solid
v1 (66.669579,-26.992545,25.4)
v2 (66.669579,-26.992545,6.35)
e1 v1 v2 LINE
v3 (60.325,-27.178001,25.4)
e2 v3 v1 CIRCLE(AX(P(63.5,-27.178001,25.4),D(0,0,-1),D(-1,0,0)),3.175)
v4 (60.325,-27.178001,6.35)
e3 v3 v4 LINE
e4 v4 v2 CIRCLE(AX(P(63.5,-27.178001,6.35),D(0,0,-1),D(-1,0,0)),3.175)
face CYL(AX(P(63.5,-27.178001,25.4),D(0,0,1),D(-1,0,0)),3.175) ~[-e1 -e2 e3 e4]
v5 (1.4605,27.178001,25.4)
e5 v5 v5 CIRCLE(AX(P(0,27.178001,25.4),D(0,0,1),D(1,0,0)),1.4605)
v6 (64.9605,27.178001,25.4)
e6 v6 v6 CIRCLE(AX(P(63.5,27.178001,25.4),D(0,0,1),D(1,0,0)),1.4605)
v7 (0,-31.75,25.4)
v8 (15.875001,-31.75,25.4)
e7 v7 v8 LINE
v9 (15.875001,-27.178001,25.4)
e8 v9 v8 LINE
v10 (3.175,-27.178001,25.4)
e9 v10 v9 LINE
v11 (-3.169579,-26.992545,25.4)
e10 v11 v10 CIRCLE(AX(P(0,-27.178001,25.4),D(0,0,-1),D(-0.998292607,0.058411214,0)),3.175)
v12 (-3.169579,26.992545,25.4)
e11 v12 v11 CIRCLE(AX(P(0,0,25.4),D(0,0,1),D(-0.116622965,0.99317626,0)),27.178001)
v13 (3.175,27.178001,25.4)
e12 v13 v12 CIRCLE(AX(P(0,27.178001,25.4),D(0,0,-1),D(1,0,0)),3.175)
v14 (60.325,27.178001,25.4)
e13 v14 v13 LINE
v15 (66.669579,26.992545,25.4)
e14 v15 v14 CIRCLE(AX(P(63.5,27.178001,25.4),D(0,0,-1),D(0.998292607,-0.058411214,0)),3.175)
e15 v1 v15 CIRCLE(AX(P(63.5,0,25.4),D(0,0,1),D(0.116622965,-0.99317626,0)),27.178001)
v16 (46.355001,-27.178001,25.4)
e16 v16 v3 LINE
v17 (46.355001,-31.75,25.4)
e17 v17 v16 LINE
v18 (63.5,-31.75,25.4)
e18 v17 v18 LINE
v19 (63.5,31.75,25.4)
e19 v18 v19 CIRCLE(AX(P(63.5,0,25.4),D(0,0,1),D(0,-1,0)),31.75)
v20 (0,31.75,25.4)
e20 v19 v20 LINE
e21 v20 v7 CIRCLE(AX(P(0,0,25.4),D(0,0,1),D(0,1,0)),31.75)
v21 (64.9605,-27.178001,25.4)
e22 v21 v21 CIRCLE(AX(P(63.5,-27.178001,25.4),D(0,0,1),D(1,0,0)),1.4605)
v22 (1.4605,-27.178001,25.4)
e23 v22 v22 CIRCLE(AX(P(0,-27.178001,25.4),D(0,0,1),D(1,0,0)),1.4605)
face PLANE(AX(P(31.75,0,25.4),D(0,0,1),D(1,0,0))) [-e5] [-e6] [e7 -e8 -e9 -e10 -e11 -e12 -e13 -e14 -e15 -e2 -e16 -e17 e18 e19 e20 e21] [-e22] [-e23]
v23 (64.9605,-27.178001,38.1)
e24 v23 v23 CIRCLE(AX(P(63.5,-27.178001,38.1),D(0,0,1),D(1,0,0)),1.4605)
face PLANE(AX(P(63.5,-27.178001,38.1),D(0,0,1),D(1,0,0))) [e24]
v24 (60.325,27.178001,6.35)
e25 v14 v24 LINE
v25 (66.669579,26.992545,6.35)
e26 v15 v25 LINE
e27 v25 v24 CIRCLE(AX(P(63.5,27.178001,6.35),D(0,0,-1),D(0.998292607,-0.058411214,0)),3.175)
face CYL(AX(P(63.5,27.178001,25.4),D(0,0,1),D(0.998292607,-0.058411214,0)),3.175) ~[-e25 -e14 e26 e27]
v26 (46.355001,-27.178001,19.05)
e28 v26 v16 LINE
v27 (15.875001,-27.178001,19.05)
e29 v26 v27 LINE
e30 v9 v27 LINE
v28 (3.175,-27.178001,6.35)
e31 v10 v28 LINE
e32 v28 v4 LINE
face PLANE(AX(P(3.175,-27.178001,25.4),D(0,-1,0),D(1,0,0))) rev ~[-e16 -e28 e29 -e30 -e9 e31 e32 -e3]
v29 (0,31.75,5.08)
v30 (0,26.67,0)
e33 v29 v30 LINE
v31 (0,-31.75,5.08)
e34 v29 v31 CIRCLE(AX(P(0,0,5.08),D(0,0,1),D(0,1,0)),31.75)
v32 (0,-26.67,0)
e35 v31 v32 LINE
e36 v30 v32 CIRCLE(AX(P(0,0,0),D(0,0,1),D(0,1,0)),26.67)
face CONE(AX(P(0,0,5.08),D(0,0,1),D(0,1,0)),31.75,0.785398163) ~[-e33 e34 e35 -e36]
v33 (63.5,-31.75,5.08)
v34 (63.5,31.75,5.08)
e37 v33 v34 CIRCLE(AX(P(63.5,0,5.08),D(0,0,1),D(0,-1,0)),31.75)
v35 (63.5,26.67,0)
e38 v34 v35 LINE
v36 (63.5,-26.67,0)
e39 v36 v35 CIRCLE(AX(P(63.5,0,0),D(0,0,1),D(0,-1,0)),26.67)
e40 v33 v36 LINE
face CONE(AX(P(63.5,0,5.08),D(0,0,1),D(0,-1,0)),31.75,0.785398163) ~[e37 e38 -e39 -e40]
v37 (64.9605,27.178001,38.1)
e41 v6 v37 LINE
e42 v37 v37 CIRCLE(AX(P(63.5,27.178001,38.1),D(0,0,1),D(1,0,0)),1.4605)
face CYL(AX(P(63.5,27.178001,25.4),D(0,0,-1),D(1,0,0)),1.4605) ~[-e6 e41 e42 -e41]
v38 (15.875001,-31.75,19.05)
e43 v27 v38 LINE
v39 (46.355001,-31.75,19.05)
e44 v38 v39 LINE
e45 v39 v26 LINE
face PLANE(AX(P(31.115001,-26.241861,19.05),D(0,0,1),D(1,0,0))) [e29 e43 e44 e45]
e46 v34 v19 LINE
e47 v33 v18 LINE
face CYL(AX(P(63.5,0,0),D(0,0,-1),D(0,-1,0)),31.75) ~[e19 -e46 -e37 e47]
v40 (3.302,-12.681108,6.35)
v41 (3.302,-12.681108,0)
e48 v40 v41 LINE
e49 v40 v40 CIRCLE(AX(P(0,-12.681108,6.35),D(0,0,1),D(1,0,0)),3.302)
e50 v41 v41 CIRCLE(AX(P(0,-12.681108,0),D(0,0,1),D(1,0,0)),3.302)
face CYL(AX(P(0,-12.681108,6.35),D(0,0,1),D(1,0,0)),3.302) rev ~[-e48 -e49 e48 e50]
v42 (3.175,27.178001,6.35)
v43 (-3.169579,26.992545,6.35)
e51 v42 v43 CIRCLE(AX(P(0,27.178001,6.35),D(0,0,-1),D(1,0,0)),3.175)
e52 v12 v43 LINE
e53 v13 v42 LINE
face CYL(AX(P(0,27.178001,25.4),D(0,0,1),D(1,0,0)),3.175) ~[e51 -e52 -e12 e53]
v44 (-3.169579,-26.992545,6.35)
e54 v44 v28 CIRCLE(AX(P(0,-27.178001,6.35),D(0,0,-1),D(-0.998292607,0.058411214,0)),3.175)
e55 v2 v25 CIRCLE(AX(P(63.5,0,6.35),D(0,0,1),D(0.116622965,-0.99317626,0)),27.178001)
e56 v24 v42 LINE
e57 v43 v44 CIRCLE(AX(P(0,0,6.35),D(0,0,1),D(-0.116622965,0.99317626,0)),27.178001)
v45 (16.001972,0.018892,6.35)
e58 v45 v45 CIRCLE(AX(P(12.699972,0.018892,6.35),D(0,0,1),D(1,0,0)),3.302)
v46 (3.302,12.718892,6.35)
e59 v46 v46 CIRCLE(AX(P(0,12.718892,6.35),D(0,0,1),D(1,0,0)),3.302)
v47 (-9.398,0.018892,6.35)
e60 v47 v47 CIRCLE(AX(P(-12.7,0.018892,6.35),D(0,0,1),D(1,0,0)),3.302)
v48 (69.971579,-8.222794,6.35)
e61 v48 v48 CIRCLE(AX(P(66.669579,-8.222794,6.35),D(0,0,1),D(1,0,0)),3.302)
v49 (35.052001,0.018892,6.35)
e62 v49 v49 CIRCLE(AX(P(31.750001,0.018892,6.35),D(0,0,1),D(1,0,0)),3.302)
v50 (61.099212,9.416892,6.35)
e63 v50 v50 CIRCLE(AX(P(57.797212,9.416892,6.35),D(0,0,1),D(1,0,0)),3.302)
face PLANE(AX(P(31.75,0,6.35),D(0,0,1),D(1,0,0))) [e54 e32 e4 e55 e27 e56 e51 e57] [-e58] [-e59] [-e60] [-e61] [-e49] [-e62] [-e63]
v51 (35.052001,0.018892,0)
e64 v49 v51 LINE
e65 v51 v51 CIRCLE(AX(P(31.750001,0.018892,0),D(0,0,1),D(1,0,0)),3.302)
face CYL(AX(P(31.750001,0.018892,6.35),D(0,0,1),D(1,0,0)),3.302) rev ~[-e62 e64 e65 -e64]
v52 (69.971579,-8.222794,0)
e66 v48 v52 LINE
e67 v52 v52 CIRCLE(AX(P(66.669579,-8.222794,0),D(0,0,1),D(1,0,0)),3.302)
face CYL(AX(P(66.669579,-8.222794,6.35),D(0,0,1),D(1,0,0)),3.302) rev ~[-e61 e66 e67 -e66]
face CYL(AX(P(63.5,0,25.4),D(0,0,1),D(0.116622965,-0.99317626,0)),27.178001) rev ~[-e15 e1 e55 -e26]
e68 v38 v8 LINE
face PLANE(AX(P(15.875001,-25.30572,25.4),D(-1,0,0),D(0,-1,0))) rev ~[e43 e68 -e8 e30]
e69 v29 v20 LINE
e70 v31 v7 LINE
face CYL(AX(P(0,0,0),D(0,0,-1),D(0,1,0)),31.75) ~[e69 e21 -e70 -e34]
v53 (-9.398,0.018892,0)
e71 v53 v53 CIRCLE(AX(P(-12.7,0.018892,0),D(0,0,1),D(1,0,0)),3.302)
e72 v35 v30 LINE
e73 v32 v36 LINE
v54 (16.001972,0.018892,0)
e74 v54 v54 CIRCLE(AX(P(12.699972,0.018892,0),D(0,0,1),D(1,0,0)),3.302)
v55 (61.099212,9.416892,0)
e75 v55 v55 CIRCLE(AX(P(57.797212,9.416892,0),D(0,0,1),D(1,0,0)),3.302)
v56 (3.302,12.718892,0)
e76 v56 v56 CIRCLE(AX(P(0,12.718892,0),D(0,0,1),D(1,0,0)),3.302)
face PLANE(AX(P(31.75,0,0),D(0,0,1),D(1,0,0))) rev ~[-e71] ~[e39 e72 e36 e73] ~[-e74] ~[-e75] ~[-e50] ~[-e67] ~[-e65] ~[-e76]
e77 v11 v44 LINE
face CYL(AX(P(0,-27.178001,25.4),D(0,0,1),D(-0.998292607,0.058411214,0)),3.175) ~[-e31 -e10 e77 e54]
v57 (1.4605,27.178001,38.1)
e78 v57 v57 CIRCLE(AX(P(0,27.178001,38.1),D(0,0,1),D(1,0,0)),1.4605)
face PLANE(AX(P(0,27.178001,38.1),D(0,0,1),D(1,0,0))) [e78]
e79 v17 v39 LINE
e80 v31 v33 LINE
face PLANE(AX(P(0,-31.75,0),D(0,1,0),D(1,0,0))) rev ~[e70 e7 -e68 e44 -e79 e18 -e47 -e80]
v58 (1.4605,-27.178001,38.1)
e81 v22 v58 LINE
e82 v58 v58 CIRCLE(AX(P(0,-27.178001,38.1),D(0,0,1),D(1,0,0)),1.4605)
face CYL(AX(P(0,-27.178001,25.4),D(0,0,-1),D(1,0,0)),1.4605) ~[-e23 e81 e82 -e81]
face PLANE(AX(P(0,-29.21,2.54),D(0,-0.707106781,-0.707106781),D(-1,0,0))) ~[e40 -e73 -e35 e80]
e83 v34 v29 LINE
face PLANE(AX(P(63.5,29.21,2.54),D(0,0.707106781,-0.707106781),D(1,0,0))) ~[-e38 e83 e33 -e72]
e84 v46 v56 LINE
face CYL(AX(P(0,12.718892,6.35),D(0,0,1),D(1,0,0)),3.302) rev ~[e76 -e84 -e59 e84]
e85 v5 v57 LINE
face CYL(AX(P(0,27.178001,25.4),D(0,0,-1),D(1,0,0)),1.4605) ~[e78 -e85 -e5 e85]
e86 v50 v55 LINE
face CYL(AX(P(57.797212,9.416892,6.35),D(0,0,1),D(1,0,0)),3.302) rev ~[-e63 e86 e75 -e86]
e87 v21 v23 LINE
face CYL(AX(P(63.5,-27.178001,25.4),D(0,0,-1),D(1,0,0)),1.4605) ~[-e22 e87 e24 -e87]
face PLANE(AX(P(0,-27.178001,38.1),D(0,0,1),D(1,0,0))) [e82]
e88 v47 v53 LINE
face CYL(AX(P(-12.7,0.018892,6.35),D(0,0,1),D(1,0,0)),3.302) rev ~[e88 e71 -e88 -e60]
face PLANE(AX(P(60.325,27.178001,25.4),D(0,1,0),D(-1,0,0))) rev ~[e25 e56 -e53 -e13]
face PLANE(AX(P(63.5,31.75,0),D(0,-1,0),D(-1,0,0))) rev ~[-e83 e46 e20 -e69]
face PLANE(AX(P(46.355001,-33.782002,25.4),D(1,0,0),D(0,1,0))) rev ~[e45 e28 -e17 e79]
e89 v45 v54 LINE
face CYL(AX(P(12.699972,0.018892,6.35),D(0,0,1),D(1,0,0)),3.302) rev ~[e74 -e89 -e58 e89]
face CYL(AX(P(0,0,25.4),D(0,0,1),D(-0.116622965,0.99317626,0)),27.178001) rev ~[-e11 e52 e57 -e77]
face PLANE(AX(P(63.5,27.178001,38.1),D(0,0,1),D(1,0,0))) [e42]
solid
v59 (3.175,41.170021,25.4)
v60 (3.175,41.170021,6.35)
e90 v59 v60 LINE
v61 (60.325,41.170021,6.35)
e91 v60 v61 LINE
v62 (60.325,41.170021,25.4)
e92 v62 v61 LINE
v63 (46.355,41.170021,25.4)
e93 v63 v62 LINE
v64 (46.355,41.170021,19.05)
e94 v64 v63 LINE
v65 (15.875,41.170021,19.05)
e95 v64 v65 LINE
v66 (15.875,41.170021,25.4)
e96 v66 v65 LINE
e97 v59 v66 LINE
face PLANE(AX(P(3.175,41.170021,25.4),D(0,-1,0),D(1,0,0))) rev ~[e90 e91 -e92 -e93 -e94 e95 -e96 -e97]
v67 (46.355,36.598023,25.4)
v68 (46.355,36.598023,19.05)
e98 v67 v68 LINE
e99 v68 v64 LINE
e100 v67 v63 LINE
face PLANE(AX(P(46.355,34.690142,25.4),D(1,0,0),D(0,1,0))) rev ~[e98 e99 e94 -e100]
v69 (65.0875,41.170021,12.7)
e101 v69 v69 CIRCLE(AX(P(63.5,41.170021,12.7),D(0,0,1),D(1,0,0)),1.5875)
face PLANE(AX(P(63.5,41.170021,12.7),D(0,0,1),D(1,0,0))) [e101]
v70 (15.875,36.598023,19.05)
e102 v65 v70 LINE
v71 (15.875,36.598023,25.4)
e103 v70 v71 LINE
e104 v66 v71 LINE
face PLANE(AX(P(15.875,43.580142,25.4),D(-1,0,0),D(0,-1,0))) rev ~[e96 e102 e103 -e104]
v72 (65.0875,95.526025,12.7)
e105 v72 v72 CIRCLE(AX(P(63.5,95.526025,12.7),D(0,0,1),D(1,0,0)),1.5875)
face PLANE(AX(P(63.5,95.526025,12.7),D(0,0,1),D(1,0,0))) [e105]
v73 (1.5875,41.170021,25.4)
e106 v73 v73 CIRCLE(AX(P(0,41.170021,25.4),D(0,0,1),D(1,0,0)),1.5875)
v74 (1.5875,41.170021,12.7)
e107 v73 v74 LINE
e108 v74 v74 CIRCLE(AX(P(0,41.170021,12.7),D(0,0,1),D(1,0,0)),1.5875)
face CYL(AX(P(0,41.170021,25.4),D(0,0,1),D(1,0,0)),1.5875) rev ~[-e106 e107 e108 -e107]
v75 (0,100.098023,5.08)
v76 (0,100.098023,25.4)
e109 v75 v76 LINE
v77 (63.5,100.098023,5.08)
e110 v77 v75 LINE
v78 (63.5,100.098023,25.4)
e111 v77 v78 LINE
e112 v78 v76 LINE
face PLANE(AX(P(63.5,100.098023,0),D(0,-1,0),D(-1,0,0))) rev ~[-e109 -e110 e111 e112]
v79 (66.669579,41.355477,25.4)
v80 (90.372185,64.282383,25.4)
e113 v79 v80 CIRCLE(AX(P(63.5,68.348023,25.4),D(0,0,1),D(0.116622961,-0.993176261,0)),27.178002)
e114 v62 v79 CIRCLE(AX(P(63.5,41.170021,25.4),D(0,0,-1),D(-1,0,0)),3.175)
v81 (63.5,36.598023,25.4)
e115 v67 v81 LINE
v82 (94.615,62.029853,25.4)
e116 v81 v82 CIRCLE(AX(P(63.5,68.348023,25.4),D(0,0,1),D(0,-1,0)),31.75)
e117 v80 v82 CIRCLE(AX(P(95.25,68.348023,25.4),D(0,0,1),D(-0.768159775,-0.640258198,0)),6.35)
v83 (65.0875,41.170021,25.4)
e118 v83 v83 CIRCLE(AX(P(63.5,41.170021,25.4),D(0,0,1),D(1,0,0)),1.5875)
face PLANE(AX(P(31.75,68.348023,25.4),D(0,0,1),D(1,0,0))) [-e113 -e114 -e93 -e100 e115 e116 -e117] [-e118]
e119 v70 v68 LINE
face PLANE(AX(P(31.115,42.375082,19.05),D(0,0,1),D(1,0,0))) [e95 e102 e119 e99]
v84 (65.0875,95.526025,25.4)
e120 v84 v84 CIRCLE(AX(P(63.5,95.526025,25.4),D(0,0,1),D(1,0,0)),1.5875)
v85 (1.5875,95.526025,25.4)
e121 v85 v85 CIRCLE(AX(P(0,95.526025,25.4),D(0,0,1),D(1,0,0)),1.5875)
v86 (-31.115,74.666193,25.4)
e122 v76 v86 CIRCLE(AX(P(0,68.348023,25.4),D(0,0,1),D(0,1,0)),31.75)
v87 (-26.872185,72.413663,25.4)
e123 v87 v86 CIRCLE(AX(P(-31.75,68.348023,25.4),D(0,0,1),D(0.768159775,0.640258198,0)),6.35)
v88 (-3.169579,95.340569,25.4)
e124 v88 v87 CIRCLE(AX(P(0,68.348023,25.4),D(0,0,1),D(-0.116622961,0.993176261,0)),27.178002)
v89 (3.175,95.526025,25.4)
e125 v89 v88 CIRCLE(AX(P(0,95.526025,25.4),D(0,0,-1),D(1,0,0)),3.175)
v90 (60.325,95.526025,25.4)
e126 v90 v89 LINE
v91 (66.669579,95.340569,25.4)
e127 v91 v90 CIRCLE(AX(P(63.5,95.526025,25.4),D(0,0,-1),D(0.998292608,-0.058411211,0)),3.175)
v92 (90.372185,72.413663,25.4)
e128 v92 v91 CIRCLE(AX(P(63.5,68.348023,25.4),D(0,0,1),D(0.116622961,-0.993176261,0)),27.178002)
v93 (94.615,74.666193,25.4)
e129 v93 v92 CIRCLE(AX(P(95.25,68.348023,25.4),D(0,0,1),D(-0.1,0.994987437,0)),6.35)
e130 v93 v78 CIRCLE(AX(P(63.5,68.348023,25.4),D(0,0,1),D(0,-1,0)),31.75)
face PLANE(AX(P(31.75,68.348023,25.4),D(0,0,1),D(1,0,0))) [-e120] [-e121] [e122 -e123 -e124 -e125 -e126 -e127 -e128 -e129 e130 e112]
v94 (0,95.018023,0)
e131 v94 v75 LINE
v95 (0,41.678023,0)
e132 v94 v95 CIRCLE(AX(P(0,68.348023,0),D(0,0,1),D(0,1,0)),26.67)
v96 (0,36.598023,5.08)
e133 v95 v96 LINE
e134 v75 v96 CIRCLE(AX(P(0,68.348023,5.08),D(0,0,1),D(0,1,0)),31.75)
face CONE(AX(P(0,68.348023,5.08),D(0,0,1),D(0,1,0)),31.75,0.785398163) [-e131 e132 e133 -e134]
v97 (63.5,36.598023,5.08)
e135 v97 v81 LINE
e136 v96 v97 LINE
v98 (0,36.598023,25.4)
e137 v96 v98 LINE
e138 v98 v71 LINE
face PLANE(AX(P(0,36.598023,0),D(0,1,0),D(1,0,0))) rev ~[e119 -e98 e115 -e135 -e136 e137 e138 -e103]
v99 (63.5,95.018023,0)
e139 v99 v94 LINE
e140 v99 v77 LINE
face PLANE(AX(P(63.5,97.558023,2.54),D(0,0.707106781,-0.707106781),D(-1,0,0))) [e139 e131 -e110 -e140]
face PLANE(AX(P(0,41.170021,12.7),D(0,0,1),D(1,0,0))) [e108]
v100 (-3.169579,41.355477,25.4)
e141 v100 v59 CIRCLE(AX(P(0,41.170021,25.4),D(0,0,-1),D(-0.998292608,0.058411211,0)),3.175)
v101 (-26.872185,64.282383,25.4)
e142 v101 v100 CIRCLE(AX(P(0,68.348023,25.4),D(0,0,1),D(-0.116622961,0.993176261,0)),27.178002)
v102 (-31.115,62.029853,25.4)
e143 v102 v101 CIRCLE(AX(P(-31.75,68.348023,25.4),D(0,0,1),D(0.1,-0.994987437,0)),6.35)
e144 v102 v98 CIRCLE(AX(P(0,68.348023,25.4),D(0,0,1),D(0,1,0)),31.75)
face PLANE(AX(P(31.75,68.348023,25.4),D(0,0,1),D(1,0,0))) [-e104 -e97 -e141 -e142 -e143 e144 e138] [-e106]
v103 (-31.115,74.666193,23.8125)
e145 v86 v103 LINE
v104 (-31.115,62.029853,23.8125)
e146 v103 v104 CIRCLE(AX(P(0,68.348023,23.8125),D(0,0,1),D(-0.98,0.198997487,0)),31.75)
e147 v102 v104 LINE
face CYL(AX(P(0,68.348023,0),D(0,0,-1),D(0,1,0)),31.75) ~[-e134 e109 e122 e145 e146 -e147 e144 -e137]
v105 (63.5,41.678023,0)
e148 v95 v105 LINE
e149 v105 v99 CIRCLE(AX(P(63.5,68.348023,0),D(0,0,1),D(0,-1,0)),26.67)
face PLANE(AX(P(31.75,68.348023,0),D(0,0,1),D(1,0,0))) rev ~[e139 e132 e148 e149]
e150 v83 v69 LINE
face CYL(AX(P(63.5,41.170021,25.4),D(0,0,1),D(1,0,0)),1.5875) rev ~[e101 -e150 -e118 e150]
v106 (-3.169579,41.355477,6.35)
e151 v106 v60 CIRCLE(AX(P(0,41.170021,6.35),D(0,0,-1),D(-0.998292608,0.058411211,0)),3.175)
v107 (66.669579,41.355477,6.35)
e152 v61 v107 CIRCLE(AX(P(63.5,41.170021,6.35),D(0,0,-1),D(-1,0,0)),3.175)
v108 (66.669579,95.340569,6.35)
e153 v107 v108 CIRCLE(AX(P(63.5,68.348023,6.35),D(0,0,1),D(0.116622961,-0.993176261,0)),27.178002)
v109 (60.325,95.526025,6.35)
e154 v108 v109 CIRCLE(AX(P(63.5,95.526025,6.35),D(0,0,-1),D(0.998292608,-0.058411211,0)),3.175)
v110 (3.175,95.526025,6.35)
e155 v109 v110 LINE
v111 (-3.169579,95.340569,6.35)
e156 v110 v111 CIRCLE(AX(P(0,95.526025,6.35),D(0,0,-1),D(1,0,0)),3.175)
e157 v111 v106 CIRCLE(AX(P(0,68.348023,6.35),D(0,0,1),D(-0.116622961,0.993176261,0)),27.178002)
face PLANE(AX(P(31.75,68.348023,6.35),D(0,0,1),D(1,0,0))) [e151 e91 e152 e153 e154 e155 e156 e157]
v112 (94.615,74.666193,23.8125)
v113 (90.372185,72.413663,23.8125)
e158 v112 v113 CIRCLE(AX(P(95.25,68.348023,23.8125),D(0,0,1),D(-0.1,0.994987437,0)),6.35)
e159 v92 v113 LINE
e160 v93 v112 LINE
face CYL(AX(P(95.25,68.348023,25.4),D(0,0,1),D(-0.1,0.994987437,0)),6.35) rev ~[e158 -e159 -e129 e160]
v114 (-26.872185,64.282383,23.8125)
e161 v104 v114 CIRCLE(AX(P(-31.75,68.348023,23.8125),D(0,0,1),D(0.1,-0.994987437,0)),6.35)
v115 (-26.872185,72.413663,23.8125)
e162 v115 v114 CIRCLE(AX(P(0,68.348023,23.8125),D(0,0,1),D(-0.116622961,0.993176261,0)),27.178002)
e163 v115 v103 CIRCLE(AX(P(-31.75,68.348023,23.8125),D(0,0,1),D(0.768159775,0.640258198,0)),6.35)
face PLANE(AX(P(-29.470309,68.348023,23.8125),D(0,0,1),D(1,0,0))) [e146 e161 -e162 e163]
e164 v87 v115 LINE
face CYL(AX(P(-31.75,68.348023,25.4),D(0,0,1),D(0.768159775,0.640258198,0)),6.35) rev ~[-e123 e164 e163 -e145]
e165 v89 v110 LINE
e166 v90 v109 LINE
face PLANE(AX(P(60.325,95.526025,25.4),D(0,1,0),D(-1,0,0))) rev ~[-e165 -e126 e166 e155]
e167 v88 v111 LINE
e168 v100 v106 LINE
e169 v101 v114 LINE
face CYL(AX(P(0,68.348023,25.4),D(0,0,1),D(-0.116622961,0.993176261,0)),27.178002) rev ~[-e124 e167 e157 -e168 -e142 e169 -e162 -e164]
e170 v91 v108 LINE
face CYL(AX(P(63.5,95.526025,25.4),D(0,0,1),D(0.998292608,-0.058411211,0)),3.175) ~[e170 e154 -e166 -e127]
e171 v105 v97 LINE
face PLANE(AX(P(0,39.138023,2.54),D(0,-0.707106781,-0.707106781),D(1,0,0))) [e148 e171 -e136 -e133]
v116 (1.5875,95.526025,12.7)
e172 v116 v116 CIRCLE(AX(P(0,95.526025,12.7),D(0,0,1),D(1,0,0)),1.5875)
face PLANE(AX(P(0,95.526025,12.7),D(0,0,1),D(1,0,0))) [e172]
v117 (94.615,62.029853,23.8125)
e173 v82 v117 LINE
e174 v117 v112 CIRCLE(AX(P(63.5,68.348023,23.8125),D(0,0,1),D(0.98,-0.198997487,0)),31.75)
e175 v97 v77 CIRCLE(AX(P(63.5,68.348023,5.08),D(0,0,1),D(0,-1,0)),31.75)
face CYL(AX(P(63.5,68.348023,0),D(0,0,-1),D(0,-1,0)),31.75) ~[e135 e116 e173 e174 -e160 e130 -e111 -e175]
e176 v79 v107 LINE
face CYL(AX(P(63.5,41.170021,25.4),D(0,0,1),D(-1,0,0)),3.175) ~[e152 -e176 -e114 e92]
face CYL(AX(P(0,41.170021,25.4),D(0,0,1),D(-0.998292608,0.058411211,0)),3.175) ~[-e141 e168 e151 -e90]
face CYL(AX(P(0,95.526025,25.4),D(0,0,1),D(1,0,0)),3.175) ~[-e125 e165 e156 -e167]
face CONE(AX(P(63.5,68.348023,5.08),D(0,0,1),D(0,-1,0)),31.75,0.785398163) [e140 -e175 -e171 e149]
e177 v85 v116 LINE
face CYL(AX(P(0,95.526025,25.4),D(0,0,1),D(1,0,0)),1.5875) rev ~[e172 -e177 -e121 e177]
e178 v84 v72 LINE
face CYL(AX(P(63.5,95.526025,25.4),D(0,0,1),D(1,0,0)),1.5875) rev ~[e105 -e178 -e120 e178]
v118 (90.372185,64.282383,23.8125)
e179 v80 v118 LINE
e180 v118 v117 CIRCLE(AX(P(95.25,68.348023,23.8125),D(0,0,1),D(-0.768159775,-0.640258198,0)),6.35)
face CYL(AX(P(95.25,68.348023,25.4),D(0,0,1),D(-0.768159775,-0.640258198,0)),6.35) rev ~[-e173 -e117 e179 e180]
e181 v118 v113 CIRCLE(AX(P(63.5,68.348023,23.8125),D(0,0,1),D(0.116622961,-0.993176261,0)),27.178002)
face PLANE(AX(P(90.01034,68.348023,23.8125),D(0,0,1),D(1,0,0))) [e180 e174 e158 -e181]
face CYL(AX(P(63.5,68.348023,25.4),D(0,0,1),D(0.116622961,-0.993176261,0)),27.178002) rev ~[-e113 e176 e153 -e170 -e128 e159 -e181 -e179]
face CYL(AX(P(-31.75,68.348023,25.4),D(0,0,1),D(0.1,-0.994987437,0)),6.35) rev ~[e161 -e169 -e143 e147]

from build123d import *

# Parameters (mm, degrees)
F1_DEPTH   = 25.4
F3_DEPTH   = 19.05
F5_DEPTH   = 19.05
F6_R       = 1.5875
F7_DEPTH   = 12.7
F8_R       = 1.4605
F9_DEPTH   = 12.7
F10_R      = 3.302
F11_DEPTH  = 25.4
F12_SIZE   = 5.08
F12_2_SIZE = 5.08
F13_W      = 30.48
F13_H      = 1.8722803056
F13_H_2    = 4.5719993412
F13_H_3    = 2.0320015848
F14_DEPTH  = 6.35
F15_W      = 30.48
F15_H      = 2.4101203227
F15_H_2    = 4.571998328
F15_H_3    = 1.9078813493
F16_DEPTH  = 6.35
F18_DEPTH  = 1.5875


with BuildPart() as f1:
    # F0 (on Top) → F1 (new body)
    with BuildSketch(Plane.XY):
        with BuildLine():
            Line((63.5, 100.0980230272), (0, 100.0980230272))
            ThreePointArc((0, 100.0980230272), (-31.75, 68.3480230272), (0, 36.5980230272))
            Line((0, 36.5980230272), (63.5, 36.5980230272))
            ThreePointArc((63.5, 36.5980230272), (95.25, 68.3480230272), (63.5, 100.0980230272))
        make_face()
    extrude(amount=F1_DEPTH)

    # F2 (on face) → F3 (cut)
    with BuildSketch(Plane.XY.offset(25.4)):
        with BuildLine():
            Line((60.325, 95.5260246992), (3.175, 95.5260246992))
            ThreePointArc((3.175, 95.5260246992), (0.0927674041, 92.3523802313), (-3.1695790291, 95.3405691031))
            ThreePointArc((-3.1695790291, 95.3405691031), (-27.178001672, 68.3480230272), (-3.1695790291, 41.3554769512))
            ThreePointArc((-3.1695790291, 41.3554769512), (0.0927674041, 44.3436658231), (3.175, 41.1700213552))
            Line((3.175, 41.1700213552), (60.325, 41.1700213552))
            ThreePointArc((60.325, 41.1700213552), (63.4072325959, 44.3436658231), (66.6695790291, 41.3554769512))
            ThreePointArc((66.6695790291, 41.3554769512), (90.678001672, 68.3480230272), (66.6695790291, 95.3405691031))
            ThreePointArc((66.6695790291, 95.3405691031), (63.4072325959, 92.3523802313), (60.325, 95.5260246992))
        make_face()
    extrude(amount=-F3_DEPTH, mode=Mode.SUBTRACT)

    # F6 (on face) → F7 (cut)
    with BuildSketch(Plane.XY.offset(25.4)):
        with Locations((0, 95.5260246992)):
            Circle(F6_R)
        with Locations((0, 41.1700213552)):
            Circle(F6_R)
        with Locations((63.5, 41.1700213552)):
            Circle(F6_R)
        with Locations((63.5, 95.5260246992)):
            Circle(F6_R)
    extrude(amount=-F7_DEPTH, mode=Mode.SUBTRACT)

    # F12#2
    f12_2_edges = [f1.edges().sort_by_distance(p)[0] for p in [
        (31.75, 36.598023, 0),
    ]]
    chamfer(f12_2_edges, length=F12_2_SIZE)

    # F15 (on face) → F16 (cut)
    with BuildSketch(Plane.XY.offset(25.4)):
        with Locations((31.115, 42.3750815165)):
            Rectangle(F15_W, F15_H)
        with Locations((31.115, 38.8840221912)):
            Rectangle(F15_W, F15_H_2)
        with Locations((31.115, 35.6440823525)):
            Rectangle(F15_W, F15_H_3)
    extrude(amount=-F16_DEPTH, mode=Mode.SUBTRACT)

    # F17 (on face) → F18 (cut)
    with BuildSketch(Plane.XY.offset(25.4)):
        with BuildLine():
            ThreePointArc((-26.8721854313, 72.4136625873), (-28.7723743155, 73.9566097728), (-31.115, 74.6661932528))
            ThreePointArc((-31.115, 74.6661932528), (-31.75, 68.3480230272), (-31.115, 62.0298528016))
            ThreePointArc((-31.115, 62.0298528016), (-28.7723743155, 62.7394362816), (-26.8721854313, 64.282383467))
            ThreePointArc((-26.8721854313, 64.282383467), (-27.178001672, 68.3480230272), (-26.8721854313, 72.4136625873))
        make_face()
        with BuildLine():
            ThreePointArc((-25.4, 68.3480230272), (-25.7793793241, 70.5100102483), (-26.8721854313, 72.4136625873))
            ThreePointArc((-26.8721854313, 72.4136625873), (-27.178001672, 68.3480230272), (-26.8721854313, 64.282383467))
            ThreePointArc((-26.8721854313, 64.282383467), (-25.7793793241, 66.1860358061), (-25.4, 68.3480230272))
        make_face()
        with BuildLine():
            ThreePointArc((90.3721854313, 64.282383467), (90.678001672, 68.3480230272), (90.3721854313, 72.4136625873))
            ThreePointArc((90.3721854313, 72.4136625873), (88.9, 68.3480230272), (90.3721854313, 64.282383467))
        make_face()
        with BuildLine():
            ThreePointArc((94.615, 62.0298528016), (95.25, 68.3480230272), (94.615, 74.6661932528))
            ThreePointArc((94.615, 74.6661932528), (92.2723743155, 73.9566097728), (90.3721854313, 72.4136625873))
            ThreePointArc((90.3721854313, 72.4136625873), (90.678001672, 68.3480230272), (90.3721854313, 64.282383467))
            ThreePointArc((90.3721854313, 64.282383467), (92.2723743155, 62.7394362816), (94.615, 62.0298528016))
        make_face()
    extrude(amount=-F18_DEPTH, mode=Mode.SUBTRACT)


with BuildPart() as f1b:
    # F0 (on Top) → F1, piece 2 (new body)
    with BuildSketch(Plane.XY):
        with BuildLine():
            Line((63.5, 31.75), (0, 31.75))
            ThreePointArc((0, 31.75), (-31.75, 0), (0, -31.75))
            Line((0, -31.75), (63.5, -31.75))
            ThreePointArc((63.5, -31.75), (95.25, 0), (63.5, 31.75))
        make_face()
    extrude(amount=F1_DEPTH)

    # F4 (on face) → F5 (cut)
    with BuildSketch(Plane.XY.offset(25.4)):
        with BuildLine():
            Line((60.325, 27.1780006588), (3.175, 27.1780006588))
            ThreePointArc((3.175, 27.1780006588), (0.0927674075, 24.0043561909), (-3.1695790287, 26.9925450558))
            ThreePointArc((-3.1695790287, 26.9925450558), (-27.1780006588, 0), (-3.1695790287, -26.9925450558))
            ThreePointArc((-3.1695790287, -26.9925450558), (0.0927674075, -24.0043561909), (3.175, -27.1780006588))
            Line((3.175, -27.1780006588), (60.325, -27.1780006588))
            ThreePointArc((60.325, -27.1780006588), (63.4072325925, -24.0043561909), (66.6695790287, -26.9925450558))
            ThreePointArc((66.6695790287, -26.9925450558), (90.6780006588, 0), (66.6695790287, 26.9925450558))
            ThreePointArc((66.6695790287, 26.9925450558), (63.4072325925, 24.0043561909), (60.325, 27.1780006588))
        make_face()
    extrude(amount=-F5_DEPTH, mode=Mode.SUBTRACT)

    # F8 (on face) → F9 (join)
    with BuildSketch(Plane.XY.offset(25.4)):
        with Locations((0, 27.1780006588)):
            Circle(F8_R)
        with Locations((0, -27.1780006588)):
            Circle(F8_R)
        with Locations((63.5, -27.1780006588)):
            Circle(F8_R)
        with Locations((63.5, 27.1780006588)):
            Circle(F8_R)
    extrude(amount=F9_DEPTH)

    # F10 (on face) → F11 (cut)
    with BuildSketch(Plane.XY.offset(6.35)):
        with Locations((-12.7, 0.0188922451)):
            Circle(F10_R)
        with Locations((0, -12.6811077549)):
            Circle(F10_R)
        with Locations((0, 12.7188922451)):
            Circle(F10_R)
        with Locations((12.6999718962, 0.0188922451)):
            Circle(F10_R)
        with Locations((31.7500010133, 0.0188922451)):
            Circle(F10_R)
        with Locations((66.6695790287, -8.2227941602)):
            Circle(F10_R)
        with Locations((57.7972121537, 9.4168921933)):
            Circle(F10_R)
    extrude(amount=-F11_DEPTH, mode=Mode.SUBTRACT)

    # F12
    f12_edges = [f1b.edges().sort_by_distance(p)[0] for p in [
        (-31.75, 0, 0),
    ]]
    chamfer(f12_edges, length=F12_SIZE)

    # F13 (on face) → F14 (cut)
    with BuildSketch(Plane.XY.offset(25.4)):
        with Locations((31.1150005066, -26.2418605059)):
            Rectangle(F13_W, F13_H)
        with Locations((31.1150005066, -29.4640003294)):
            Rectangle(F13_W, F13_H_2)
        with Locations((31.1150005066, -32.7660007924)):
            Rectangle(F13_W, F13_H_3)
    extrude(amount=-F14_DEPTH, mode=Mode.SUBTRACT)


solid = Compound([f1.part, f1b.part])
